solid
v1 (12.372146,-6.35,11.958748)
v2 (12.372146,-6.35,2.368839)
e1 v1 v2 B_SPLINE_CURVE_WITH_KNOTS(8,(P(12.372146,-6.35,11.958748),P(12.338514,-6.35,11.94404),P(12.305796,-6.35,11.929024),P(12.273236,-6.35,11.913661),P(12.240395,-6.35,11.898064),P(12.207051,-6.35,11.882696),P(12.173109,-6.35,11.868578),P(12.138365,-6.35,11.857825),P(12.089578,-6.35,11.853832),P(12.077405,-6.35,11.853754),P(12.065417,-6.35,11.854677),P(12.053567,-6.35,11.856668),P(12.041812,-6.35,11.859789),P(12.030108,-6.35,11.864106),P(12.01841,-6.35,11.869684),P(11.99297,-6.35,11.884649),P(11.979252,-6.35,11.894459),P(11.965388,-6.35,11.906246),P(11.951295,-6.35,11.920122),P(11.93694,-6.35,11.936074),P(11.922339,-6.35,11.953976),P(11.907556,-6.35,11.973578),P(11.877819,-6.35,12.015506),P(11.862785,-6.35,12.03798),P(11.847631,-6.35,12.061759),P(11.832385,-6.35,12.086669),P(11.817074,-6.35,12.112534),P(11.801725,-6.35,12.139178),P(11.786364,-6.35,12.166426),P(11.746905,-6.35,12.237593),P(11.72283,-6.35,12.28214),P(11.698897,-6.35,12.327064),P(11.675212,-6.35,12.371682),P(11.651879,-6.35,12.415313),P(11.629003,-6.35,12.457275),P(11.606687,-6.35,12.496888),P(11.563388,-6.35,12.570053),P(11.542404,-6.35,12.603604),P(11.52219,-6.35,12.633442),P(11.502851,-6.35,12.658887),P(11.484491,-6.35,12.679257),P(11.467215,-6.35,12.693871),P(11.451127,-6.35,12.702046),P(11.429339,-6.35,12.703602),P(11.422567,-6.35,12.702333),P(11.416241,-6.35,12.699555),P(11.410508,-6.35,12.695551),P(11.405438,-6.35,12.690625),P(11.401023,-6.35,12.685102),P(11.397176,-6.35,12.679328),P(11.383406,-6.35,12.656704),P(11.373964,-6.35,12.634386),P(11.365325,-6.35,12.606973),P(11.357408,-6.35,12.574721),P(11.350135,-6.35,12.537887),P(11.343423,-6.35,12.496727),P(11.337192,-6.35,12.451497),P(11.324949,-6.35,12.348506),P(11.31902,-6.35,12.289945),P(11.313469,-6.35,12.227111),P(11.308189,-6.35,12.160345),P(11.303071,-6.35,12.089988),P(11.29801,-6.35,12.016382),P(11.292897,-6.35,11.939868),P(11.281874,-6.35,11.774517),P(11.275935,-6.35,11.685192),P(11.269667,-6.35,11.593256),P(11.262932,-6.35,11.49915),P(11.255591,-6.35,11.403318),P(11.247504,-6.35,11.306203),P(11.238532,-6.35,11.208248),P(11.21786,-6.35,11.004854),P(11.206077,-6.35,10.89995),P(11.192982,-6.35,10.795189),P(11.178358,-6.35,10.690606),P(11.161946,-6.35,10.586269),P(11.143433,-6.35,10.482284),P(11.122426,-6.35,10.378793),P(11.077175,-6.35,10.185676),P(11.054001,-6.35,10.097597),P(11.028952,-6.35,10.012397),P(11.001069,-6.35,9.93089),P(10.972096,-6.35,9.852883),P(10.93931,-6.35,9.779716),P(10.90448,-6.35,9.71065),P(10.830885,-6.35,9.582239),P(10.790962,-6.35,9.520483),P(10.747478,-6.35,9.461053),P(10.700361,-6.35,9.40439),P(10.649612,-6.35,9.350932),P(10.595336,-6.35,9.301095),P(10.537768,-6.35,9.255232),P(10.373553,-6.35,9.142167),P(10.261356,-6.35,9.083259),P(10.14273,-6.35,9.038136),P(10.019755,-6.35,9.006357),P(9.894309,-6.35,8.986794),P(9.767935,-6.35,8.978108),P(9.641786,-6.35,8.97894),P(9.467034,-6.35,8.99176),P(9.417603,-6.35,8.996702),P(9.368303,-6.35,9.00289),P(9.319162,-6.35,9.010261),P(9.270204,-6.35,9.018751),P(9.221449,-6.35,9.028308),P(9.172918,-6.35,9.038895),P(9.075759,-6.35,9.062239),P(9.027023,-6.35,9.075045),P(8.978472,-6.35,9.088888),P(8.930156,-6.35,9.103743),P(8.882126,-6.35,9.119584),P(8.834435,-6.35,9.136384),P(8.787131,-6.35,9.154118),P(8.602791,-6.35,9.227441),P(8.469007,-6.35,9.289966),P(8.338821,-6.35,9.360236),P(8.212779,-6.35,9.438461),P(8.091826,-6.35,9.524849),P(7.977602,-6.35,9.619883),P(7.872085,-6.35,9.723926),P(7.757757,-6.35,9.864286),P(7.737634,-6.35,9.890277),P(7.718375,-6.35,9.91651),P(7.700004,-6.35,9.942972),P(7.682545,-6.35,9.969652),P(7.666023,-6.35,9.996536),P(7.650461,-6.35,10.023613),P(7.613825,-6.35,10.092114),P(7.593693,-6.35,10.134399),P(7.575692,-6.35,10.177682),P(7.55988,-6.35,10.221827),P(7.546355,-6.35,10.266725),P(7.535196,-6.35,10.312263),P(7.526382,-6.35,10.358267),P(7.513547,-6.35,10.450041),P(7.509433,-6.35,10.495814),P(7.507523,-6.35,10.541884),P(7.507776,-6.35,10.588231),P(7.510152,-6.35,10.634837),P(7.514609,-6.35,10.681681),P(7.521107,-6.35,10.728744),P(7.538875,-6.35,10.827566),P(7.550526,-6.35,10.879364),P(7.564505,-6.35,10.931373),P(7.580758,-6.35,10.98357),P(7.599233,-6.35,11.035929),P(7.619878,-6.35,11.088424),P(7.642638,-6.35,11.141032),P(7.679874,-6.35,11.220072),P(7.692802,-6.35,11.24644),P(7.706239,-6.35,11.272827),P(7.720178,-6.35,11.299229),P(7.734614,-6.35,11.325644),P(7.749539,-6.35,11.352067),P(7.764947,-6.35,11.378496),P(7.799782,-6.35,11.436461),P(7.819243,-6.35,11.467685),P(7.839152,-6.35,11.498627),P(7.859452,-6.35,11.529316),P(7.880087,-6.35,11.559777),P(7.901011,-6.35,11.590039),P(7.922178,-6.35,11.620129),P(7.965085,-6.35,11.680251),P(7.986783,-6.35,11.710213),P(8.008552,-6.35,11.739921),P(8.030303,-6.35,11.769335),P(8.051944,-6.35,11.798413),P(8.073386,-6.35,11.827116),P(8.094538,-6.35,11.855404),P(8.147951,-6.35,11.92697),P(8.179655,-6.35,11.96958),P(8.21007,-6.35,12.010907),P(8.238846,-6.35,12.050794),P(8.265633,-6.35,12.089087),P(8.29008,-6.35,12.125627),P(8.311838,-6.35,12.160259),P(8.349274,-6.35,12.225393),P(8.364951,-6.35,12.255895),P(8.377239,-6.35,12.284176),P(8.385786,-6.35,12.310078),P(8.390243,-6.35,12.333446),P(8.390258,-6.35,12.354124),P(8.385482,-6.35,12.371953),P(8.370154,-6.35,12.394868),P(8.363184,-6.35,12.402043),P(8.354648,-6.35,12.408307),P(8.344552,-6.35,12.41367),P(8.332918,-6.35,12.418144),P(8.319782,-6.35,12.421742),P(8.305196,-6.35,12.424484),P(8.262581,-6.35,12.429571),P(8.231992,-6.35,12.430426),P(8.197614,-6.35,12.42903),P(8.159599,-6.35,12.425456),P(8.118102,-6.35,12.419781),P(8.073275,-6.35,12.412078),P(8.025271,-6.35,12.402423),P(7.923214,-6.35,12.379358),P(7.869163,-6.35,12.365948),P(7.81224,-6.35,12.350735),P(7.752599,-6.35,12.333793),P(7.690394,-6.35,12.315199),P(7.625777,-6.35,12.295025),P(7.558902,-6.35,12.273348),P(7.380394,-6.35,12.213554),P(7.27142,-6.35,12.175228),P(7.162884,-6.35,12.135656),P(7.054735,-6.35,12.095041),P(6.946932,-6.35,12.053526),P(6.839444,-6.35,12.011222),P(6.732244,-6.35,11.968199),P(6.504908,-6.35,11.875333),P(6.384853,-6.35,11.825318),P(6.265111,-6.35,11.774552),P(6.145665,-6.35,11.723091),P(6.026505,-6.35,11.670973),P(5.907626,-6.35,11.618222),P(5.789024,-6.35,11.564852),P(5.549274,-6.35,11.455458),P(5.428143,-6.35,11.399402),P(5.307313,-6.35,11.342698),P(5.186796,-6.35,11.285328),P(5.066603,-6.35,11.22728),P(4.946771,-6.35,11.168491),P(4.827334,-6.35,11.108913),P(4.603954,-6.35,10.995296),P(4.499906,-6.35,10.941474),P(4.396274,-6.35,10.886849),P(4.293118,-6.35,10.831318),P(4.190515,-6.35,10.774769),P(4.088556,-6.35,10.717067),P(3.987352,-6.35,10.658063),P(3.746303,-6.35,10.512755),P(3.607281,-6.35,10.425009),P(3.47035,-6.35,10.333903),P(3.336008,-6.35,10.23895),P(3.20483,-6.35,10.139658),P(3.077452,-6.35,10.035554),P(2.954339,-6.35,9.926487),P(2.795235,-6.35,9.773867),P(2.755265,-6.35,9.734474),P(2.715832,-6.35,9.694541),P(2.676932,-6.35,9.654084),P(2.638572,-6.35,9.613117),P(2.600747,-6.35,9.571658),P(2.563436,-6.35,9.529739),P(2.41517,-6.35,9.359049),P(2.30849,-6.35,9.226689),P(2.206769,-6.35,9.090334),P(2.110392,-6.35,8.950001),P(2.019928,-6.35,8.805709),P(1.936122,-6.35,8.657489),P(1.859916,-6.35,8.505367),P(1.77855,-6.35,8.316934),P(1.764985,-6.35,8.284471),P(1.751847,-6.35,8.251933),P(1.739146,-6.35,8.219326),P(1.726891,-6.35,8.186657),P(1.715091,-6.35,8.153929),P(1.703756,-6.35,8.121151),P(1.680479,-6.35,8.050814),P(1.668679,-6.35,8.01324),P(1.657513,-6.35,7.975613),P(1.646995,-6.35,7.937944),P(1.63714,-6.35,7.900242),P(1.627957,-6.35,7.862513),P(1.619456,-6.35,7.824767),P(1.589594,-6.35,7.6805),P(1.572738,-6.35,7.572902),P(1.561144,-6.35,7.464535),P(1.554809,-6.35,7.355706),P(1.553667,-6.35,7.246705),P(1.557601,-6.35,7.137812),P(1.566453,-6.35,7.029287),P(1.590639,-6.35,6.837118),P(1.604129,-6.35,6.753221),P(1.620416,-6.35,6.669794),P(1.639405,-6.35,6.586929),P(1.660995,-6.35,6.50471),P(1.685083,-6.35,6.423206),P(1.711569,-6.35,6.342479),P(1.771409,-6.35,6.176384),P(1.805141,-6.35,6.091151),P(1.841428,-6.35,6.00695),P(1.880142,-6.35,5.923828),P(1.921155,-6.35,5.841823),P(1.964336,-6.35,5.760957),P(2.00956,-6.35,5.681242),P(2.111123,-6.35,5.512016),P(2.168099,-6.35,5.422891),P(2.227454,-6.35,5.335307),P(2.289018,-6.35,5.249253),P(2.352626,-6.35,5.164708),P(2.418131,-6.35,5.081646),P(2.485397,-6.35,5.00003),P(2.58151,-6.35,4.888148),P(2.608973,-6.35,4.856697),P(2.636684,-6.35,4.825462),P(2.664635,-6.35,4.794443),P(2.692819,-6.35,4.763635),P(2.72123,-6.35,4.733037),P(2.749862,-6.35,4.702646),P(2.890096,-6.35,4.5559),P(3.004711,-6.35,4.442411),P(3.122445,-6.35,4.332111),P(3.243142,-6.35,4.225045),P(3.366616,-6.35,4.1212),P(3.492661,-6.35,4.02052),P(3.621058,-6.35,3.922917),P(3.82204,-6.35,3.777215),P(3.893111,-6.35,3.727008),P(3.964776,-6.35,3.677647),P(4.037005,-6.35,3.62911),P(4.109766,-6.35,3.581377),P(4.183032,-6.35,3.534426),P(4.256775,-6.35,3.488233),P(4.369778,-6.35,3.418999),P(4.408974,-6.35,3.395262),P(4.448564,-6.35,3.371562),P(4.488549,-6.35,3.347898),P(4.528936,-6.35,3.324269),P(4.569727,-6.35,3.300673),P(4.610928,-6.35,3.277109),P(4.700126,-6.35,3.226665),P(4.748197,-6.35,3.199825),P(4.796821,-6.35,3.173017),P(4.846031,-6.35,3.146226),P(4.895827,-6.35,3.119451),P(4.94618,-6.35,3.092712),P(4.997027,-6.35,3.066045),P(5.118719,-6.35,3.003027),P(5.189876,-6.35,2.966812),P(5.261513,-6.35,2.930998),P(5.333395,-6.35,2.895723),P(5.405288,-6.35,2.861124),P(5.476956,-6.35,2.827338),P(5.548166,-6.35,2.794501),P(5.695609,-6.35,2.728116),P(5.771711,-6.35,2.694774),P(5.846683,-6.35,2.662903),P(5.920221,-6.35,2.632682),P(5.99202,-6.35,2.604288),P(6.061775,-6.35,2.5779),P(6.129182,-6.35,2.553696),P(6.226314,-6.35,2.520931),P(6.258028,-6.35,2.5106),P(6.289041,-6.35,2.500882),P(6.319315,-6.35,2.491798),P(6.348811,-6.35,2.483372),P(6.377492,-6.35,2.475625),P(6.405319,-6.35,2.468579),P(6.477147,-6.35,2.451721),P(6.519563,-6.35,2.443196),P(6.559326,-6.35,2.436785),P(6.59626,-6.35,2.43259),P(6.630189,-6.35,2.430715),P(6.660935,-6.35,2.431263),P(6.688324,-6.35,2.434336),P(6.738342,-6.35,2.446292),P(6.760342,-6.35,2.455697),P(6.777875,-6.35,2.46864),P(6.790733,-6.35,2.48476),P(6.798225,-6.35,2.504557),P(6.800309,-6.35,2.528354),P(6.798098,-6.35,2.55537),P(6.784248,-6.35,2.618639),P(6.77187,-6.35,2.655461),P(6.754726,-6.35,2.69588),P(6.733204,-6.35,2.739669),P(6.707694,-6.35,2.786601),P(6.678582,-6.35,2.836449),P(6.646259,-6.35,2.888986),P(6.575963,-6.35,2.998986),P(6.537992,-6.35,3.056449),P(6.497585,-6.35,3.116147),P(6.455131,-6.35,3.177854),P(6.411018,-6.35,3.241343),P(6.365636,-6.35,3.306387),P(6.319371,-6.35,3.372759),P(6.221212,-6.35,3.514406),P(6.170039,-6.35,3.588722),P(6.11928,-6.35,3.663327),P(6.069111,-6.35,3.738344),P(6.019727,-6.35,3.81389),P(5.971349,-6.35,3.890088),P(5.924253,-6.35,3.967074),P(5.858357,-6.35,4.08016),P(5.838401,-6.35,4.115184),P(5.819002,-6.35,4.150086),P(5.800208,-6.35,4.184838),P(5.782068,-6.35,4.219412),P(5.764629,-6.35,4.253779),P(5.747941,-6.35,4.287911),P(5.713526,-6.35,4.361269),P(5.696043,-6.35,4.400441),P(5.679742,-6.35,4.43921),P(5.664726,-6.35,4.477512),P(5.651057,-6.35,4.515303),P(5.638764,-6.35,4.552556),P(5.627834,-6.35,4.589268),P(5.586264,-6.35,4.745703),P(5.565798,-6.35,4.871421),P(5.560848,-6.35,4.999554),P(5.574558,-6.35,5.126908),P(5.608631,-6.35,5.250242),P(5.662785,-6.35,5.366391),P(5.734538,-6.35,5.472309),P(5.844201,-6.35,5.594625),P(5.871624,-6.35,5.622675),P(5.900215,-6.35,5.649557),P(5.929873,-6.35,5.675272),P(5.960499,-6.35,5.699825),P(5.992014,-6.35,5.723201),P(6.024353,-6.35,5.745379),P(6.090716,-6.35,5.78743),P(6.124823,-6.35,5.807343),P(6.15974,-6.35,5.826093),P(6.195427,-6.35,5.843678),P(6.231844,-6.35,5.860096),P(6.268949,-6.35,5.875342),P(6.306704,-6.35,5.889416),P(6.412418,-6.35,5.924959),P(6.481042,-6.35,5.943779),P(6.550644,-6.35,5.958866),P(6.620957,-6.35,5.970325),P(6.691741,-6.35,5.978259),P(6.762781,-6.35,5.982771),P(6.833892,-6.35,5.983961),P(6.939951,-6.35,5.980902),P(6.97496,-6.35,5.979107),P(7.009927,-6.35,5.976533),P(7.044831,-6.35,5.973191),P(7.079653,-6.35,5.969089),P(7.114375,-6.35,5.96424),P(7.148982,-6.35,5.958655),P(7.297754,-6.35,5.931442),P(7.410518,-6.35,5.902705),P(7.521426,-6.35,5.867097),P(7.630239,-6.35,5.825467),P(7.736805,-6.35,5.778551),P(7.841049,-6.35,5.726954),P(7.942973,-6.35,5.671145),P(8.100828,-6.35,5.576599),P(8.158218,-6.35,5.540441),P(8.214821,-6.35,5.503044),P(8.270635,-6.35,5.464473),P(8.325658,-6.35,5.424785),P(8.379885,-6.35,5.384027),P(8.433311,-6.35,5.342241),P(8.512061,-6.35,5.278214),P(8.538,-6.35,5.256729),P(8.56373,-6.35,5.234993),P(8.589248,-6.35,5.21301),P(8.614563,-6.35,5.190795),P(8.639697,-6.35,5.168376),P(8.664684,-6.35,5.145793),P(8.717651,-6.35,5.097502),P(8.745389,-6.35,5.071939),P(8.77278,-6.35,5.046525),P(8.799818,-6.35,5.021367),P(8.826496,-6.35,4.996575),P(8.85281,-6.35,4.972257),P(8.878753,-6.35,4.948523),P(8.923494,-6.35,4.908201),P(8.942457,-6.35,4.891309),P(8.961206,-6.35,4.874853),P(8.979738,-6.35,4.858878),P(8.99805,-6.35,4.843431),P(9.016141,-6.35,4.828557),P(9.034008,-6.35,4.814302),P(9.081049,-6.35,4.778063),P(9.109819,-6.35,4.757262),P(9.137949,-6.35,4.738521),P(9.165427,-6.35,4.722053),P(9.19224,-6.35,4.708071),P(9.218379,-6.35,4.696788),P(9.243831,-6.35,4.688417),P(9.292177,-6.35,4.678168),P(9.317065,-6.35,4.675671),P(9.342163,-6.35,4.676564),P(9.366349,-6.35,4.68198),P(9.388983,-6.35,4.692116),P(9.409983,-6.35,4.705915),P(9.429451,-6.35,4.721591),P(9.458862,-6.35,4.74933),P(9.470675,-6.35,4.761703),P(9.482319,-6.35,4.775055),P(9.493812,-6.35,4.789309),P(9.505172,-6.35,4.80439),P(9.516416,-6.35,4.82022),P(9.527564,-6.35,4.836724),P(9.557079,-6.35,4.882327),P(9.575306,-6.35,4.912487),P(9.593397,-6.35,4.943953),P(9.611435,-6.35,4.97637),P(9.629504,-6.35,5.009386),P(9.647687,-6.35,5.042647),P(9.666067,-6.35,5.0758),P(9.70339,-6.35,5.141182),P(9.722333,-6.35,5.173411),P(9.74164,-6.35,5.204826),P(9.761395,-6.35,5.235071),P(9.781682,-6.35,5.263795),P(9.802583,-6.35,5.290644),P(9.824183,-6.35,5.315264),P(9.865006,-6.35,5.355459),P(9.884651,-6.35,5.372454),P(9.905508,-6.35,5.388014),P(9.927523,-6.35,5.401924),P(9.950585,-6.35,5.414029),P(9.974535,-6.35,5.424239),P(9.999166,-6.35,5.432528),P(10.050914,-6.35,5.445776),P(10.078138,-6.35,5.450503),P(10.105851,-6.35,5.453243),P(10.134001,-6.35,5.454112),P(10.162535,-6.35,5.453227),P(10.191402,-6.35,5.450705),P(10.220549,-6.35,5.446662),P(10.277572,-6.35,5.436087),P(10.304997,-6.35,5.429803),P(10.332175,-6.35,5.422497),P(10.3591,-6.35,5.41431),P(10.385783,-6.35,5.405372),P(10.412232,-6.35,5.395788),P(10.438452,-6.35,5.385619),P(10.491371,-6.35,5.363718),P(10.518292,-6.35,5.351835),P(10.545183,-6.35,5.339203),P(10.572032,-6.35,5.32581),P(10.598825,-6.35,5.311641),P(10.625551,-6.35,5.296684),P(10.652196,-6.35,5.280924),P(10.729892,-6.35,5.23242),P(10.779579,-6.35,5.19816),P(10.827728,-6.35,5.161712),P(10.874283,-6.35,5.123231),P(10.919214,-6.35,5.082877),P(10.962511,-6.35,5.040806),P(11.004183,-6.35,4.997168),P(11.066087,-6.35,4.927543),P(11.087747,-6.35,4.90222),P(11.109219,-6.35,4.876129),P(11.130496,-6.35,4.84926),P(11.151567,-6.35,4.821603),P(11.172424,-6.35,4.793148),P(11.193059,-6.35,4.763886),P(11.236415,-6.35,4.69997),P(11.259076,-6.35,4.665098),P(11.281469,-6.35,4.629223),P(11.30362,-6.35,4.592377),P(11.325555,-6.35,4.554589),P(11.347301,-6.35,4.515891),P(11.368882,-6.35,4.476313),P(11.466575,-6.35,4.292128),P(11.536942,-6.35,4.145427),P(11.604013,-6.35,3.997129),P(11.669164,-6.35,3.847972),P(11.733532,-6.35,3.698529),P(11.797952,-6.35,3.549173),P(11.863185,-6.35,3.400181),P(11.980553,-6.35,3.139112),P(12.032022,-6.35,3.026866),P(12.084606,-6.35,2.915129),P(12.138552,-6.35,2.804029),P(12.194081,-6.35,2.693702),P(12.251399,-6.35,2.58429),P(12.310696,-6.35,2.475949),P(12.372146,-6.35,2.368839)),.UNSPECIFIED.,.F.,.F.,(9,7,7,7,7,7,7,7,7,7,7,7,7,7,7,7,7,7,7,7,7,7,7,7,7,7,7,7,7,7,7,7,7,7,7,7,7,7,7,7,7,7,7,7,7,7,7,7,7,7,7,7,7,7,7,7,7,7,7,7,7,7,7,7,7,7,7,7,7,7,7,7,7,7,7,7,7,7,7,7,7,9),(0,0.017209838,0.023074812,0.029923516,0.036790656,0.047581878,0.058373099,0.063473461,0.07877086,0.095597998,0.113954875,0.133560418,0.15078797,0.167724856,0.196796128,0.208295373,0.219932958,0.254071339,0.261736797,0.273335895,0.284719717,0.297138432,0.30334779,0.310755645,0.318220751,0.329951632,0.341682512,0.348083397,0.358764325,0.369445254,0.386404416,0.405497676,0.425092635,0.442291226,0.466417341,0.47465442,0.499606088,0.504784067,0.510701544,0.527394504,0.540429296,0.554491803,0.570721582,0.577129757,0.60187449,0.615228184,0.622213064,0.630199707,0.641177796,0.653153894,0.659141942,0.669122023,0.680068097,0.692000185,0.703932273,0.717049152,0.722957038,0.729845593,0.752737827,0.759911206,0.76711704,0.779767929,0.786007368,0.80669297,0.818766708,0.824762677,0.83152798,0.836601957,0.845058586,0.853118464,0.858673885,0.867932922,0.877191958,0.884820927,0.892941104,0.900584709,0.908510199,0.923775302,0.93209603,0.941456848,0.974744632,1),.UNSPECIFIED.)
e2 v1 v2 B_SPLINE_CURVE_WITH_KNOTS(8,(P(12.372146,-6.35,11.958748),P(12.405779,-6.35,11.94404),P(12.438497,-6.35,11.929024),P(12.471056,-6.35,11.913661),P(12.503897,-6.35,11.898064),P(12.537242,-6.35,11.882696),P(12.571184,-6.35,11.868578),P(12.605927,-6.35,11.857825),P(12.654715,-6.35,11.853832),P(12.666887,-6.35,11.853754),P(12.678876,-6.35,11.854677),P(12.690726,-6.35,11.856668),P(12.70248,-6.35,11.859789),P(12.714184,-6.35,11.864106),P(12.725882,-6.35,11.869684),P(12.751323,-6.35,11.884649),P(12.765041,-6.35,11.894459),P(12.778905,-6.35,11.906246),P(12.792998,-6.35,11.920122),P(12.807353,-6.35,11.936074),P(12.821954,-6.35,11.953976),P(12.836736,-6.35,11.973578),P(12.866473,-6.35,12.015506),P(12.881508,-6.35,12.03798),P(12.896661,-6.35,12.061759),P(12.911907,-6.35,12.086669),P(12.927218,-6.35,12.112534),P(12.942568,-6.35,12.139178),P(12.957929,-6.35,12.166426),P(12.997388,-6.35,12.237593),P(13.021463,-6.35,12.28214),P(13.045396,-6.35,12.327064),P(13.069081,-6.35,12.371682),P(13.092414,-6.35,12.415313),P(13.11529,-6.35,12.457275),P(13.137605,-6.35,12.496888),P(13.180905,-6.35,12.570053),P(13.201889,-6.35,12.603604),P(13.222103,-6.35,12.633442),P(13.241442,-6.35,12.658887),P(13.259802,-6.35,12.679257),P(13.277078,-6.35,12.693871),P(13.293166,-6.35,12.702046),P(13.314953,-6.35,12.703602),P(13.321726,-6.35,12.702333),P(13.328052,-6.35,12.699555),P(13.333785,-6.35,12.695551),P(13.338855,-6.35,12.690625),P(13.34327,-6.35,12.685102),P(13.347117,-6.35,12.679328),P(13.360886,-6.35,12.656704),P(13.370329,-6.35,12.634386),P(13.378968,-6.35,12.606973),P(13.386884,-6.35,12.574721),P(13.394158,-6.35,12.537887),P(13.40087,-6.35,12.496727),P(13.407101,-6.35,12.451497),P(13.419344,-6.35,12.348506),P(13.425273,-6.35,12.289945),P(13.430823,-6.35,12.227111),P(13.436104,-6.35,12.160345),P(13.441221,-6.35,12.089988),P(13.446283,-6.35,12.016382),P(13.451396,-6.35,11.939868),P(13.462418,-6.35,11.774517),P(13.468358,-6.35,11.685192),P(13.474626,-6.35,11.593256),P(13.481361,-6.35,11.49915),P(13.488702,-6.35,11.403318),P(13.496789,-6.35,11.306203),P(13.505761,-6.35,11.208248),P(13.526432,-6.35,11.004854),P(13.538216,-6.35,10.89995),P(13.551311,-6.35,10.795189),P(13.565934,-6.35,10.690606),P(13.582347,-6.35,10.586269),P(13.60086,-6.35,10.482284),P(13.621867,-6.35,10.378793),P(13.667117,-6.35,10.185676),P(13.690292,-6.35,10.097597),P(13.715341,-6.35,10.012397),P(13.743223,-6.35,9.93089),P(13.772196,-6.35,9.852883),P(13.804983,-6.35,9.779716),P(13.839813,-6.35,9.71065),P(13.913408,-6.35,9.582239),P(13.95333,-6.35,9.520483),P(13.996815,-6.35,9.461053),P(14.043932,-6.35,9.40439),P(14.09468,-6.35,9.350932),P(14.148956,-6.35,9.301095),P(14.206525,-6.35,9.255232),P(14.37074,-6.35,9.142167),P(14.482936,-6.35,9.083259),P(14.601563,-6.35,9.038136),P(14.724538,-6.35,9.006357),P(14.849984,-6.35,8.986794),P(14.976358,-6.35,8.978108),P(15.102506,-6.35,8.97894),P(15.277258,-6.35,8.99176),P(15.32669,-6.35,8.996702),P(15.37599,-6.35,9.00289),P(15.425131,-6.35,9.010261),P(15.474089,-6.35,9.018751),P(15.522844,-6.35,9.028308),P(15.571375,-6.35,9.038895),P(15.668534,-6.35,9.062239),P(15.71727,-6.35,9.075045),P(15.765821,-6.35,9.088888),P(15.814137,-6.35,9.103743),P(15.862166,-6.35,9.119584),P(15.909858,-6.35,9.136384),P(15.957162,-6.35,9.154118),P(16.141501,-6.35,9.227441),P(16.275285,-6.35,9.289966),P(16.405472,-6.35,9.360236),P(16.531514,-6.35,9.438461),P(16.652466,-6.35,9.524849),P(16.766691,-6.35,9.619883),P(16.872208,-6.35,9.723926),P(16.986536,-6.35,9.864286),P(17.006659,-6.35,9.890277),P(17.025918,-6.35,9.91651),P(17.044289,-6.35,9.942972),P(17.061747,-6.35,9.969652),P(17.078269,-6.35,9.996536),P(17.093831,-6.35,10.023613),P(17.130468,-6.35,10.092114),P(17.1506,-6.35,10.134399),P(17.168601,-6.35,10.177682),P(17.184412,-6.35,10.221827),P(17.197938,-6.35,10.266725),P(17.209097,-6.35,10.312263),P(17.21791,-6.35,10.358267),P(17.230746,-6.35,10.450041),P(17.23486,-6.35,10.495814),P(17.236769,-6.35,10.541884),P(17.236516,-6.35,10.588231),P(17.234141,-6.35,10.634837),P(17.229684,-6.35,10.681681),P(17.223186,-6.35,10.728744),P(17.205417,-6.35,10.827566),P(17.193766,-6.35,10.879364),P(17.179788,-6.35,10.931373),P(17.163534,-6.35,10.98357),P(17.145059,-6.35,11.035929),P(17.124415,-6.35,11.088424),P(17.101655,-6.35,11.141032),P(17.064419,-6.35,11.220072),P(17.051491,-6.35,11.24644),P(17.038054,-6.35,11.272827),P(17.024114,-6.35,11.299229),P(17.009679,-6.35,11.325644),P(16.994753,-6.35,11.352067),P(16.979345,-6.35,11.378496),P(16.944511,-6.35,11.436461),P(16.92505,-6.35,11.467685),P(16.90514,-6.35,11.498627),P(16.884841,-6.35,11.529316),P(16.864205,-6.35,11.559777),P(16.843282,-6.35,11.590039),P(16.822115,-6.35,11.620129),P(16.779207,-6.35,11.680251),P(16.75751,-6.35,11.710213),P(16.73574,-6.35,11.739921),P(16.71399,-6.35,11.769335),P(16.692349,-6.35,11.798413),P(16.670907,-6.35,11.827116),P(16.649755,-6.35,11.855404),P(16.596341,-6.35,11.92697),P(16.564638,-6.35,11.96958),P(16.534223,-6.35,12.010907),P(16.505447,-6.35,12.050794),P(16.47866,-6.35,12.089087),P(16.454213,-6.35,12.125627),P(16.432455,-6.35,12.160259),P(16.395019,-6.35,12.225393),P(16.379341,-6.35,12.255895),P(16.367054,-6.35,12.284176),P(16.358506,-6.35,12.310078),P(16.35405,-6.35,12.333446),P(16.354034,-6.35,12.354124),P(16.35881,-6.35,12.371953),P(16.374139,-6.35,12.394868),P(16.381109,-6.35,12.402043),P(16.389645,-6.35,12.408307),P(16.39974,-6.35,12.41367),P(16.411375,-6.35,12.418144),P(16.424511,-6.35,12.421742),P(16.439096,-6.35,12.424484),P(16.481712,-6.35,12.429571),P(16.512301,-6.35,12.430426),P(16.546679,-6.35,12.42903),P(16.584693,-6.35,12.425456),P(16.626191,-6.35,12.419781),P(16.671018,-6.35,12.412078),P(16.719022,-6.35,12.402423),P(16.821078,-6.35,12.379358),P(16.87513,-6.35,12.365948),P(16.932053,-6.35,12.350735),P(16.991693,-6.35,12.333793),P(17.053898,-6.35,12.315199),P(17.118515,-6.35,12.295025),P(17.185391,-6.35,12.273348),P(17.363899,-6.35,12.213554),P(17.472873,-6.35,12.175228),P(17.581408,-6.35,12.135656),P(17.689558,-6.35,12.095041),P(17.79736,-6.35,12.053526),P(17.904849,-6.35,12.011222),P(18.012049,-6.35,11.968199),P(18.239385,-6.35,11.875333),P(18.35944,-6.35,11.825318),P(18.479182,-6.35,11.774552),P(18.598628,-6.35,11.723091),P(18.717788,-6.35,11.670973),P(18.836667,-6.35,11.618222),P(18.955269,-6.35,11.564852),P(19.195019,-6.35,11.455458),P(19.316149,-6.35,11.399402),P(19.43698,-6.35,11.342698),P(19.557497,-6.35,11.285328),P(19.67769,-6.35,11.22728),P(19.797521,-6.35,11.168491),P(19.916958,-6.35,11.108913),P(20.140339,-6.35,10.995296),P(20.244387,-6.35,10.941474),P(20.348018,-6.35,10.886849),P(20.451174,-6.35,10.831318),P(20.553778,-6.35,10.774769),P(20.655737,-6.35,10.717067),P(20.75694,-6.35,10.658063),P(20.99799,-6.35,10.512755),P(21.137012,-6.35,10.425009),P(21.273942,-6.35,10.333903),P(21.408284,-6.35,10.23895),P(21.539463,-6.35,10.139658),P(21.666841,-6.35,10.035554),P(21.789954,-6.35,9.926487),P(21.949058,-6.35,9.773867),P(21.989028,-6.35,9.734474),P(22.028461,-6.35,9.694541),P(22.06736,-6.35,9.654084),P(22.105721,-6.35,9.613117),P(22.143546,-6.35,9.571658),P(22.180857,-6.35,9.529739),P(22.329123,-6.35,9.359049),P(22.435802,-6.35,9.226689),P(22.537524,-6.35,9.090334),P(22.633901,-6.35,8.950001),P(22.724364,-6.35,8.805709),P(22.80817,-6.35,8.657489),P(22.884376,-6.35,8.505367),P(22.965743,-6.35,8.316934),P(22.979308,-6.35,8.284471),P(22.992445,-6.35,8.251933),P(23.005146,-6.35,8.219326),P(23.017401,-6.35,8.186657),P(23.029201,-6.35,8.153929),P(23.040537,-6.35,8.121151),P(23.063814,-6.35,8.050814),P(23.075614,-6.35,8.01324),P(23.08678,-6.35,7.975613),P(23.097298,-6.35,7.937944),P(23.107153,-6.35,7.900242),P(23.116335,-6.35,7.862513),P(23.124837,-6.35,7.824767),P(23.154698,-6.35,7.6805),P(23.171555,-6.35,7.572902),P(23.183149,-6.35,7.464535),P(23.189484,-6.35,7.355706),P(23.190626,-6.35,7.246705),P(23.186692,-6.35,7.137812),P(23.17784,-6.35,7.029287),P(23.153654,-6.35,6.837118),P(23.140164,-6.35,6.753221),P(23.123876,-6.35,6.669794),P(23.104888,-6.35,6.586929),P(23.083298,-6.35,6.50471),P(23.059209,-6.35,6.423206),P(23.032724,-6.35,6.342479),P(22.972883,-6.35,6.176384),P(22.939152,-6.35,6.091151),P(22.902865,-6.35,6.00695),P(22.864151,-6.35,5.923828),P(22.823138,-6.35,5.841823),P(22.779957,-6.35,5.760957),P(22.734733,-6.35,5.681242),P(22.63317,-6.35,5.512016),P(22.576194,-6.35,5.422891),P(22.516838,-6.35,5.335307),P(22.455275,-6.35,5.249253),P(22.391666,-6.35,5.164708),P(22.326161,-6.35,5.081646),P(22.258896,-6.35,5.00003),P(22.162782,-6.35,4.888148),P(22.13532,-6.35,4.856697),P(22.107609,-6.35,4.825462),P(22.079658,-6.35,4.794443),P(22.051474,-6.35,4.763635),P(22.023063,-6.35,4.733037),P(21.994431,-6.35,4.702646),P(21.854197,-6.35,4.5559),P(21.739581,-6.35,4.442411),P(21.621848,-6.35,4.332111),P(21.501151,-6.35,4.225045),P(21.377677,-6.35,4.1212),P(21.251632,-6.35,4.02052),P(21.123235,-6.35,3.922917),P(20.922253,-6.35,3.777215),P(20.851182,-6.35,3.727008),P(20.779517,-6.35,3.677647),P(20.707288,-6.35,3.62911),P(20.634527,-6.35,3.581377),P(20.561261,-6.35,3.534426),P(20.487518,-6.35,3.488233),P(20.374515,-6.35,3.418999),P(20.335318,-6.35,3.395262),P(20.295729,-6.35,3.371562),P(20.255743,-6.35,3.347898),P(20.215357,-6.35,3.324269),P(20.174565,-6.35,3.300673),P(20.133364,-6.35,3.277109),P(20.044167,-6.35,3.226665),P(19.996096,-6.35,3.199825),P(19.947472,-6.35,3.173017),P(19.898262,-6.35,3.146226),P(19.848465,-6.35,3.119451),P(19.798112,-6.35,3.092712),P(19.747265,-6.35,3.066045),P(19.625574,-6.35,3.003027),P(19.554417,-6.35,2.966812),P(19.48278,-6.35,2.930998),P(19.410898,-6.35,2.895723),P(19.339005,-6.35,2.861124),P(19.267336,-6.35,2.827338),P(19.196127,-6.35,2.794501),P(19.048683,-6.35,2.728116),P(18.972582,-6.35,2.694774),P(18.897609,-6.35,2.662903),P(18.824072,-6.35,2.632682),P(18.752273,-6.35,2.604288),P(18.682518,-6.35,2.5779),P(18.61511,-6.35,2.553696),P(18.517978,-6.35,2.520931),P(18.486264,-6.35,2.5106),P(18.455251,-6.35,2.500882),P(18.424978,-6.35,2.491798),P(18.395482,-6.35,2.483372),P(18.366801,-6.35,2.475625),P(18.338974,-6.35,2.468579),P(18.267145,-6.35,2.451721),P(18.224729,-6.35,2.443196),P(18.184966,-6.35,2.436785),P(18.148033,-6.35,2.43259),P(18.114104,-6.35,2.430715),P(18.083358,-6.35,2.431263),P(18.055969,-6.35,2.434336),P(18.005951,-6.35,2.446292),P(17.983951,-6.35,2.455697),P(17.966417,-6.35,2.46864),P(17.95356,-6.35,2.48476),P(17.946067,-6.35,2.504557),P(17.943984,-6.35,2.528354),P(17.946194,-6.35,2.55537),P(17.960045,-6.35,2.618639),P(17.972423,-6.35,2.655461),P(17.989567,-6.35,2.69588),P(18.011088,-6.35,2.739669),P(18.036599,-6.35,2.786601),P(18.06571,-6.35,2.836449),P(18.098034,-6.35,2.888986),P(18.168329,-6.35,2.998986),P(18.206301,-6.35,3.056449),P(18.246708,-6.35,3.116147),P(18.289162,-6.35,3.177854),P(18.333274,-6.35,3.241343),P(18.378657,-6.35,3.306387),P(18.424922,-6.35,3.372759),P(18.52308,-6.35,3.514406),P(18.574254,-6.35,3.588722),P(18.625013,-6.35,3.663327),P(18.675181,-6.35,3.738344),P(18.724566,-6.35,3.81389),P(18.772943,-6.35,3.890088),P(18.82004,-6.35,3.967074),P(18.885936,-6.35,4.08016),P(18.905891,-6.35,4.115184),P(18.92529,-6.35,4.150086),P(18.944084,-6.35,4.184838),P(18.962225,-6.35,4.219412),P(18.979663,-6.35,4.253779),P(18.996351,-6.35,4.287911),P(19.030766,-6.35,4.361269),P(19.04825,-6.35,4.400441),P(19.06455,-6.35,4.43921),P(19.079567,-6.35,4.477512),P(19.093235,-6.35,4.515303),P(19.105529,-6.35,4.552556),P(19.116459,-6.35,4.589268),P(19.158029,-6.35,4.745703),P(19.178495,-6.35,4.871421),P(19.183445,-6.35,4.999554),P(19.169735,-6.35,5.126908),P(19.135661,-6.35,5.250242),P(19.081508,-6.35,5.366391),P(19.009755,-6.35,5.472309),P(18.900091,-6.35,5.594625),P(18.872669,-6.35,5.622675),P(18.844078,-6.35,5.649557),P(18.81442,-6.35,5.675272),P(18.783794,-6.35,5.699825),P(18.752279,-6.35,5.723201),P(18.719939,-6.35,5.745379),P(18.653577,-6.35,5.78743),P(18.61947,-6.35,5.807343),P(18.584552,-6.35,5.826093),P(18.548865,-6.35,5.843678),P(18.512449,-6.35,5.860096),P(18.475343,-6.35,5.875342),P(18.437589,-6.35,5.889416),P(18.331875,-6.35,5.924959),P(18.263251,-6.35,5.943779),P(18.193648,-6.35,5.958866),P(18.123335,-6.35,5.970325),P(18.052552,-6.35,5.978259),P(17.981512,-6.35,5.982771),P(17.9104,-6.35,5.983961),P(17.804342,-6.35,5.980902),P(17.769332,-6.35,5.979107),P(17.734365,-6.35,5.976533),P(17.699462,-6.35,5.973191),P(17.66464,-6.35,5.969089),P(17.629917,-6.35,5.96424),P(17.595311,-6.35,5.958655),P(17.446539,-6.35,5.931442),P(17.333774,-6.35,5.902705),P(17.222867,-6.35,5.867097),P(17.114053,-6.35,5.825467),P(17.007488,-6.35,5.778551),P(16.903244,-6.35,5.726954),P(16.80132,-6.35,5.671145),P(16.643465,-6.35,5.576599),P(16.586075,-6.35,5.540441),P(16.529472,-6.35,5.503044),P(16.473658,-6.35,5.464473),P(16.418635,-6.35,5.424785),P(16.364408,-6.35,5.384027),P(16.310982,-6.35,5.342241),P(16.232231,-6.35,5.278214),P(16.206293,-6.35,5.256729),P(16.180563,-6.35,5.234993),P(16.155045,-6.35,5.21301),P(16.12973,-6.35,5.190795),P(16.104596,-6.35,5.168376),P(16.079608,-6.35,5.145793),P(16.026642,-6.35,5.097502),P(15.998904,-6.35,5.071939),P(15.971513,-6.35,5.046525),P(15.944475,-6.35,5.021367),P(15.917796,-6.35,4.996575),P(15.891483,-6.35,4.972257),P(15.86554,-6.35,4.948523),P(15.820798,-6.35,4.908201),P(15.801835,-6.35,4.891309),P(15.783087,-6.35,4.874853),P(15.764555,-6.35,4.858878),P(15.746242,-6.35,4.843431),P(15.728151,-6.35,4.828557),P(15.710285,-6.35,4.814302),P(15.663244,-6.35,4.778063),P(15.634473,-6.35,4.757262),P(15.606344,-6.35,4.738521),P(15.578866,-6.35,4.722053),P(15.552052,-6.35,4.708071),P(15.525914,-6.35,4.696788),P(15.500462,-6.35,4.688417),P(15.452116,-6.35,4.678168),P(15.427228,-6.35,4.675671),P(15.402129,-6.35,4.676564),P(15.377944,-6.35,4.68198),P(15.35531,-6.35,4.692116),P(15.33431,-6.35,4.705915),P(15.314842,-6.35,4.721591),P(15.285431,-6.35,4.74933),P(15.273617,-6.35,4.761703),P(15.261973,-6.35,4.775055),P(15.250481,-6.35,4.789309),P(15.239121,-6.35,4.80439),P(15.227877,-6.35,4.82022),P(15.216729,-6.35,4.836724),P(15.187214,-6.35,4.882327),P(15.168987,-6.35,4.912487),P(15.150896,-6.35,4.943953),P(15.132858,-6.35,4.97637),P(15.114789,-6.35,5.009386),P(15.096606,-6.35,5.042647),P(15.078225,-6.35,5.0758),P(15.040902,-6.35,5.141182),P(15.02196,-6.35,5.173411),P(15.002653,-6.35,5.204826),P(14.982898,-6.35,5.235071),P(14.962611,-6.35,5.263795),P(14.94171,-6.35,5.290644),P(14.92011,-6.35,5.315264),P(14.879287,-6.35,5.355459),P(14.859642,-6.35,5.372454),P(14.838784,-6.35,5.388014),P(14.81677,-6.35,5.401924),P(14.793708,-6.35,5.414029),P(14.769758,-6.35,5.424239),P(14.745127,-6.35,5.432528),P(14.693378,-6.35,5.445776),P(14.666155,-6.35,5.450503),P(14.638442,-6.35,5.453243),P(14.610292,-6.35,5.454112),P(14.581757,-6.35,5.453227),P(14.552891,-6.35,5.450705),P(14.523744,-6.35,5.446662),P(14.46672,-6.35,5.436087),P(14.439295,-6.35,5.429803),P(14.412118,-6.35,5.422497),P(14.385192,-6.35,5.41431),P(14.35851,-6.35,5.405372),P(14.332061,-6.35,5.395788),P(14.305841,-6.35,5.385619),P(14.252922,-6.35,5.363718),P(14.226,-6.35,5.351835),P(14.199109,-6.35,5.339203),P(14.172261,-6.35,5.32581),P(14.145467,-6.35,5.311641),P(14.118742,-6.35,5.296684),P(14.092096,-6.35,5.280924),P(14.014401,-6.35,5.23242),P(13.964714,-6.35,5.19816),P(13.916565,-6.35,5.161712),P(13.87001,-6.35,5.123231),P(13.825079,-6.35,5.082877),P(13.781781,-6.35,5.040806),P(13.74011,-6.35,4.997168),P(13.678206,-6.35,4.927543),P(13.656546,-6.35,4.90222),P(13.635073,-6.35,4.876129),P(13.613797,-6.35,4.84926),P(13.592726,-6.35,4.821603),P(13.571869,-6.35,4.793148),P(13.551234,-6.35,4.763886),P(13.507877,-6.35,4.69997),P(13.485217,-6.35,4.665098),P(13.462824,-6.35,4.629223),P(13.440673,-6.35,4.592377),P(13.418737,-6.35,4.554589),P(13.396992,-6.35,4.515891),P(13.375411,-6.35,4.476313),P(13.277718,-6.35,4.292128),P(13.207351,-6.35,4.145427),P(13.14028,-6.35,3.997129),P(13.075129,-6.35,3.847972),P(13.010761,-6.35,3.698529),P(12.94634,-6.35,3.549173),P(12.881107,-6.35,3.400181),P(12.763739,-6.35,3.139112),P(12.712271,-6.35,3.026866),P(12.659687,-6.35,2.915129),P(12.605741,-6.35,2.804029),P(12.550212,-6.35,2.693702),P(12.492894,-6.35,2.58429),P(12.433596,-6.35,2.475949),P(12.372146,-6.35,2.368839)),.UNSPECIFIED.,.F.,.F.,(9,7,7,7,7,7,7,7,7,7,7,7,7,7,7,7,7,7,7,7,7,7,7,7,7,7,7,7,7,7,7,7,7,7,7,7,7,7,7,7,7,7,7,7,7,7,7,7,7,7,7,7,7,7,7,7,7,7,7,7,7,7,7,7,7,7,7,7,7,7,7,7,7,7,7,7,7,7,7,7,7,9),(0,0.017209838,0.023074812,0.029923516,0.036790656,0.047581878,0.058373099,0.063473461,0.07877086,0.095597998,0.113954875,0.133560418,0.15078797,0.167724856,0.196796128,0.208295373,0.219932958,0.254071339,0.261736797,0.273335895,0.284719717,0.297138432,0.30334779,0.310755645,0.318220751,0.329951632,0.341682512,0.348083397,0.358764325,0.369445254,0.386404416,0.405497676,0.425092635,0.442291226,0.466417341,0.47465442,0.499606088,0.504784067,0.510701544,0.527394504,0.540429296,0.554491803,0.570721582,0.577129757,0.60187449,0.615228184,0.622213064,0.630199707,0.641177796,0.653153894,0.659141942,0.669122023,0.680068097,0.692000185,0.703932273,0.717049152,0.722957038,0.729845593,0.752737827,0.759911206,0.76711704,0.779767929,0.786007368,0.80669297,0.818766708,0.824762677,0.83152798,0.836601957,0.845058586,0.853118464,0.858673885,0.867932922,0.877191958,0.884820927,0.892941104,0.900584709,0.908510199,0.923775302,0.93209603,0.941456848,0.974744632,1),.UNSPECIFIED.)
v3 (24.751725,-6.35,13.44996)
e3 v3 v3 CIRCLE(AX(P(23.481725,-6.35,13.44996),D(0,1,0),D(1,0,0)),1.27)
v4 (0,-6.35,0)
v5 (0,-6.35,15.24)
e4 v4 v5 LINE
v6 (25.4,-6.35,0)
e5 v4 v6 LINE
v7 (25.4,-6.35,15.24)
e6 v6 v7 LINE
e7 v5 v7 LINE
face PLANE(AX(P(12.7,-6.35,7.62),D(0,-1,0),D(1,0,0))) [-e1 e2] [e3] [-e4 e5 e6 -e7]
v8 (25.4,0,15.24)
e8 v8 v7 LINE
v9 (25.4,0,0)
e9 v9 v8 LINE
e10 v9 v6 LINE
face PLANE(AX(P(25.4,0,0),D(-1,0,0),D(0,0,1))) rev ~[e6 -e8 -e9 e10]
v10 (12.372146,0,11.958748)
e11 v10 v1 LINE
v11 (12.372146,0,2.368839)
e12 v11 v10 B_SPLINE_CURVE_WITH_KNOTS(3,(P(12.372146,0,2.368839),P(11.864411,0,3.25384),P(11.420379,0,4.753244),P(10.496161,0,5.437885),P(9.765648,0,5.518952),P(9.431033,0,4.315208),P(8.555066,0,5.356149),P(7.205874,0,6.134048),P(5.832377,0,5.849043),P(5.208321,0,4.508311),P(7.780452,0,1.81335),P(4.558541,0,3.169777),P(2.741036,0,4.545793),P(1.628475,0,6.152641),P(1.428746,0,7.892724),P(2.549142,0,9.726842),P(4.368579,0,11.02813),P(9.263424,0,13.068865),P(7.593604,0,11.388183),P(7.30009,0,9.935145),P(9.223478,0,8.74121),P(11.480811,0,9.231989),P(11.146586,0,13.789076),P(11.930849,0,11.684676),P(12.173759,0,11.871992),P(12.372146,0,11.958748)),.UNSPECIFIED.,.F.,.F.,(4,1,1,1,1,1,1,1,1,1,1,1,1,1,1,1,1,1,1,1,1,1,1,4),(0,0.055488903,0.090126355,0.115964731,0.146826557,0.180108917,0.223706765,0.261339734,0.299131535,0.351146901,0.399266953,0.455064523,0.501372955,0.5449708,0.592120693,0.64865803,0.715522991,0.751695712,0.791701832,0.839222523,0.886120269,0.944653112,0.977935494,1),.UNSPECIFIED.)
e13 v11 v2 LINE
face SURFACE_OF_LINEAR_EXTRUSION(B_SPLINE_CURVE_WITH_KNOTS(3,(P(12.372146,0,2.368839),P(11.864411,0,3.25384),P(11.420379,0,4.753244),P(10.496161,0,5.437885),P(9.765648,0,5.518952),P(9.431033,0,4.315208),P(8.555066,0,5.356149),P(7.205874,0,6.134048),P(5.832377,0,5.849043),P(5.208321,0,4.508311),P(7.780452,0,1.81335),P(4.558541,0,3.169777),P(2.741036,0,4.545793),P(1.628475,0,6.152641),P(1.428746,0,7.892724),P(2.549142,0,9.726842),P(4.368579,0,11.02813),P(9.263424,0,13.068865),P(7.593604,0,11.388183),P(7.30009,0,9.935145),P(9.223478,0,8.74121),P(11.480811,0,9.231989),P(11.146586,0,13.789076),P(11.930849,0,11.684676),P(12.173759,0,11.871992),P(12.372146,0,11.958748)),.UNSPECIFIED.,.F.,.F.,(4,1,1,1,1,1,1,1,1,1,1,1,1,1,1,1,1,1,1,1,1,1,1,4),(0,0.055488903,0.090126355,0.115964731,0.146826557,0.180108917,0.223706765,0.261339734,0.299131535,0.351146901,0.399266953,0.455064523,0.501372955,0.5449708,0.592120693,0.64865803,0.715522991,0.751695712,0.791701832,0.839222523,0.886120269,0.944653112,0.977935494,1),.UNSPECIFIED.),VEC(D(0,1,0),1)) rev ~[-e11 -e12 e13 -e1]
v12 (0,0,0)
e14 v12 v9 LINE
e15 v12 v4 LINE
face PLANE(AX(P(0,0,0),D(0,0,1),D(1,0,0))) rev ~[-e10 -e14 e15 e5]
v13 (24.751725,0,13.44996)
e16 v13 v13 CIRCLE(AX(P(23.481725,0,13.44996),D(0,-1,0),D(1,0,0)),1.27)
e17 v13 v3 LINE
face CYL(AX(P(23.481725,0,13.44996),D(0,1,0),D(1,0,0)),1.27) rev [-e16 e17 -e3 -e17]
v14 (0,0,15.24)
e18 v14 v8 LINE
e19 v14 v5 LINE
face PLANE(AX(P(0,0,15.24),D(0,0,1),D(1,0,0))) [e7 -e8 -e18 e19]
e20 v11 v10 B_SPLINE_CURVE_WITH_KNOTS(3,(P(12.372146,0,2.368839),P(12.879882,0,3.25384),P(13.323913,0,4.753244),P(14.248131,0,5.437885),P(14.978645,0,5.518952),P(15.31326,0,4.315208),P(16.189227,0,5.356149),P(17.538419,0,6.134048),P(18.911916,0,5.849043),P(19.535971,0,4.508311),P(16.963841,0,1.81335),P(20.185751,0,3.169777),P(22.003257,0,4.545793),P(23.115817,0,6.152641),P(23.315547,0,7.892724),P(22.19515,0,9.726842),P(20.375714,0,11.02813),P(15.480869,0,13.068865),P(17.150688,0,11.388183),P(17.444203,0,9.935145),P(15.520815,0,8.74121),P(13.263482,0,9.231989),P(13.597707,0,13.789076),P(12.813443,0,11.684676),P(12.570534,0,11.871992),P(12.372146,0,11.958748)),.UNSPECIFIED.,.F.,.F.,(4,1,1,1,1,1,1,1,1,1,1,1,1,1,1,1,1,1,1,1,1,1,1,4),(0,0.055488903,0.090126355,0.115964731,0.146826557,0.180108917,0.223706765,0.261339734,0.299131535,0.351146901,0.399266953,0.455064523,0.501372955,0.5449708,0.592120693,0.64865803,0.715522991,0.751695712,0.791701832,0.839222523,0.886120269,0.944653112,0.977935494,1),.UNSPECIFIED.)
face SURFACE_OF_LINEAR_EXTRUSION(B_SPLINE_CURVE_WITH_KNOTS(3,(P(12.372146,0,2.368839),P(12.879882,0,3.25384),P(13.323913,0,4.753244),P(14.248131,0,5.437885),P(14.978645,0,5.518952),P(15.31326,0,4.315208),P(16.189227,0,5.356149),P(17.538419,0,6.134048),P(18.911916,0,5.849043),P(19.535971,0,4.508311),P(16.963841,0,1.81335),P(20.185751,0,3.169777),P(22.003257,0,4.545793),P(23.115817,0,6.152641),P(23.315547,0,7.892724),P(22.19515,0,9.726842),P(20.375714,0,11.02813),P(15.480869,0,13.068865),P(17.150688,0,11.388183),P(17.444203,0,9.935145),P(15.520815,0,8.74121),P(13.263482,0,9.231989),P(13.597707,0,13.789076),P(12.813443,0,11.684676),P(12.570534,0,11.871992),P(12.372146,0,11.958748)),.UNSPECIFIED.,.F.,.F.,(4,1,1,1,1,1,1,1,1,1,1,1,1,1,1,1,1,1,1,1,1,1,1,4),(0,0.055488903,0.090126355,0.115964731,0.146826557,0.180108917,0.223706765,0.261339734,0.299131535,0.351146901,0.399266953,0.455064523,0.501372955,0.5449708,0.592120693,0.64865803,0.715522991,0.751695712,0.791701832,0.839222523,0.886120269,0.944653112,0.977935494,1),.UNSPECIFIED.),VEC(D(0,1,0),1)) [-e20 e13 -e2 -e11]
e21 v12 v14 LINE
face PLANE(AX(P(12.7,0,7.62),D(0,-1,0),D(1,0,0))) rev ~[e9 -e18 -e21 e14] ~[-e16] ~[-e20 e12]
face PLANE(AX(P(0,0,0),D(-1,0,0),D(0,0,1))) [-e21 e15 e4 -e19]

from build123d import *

# Parameters (mm, degrees)
F0_W     = 25.4
F0_H     = 15.24
F1_DEPTH = 6.35
F3_DEPTH = 25.4
F4_R     = 1.27
F5_DEPTH = 25.4


with BuildPart() as f1:
    # F0 (on Front) → F1 (new body)
    with BuildSketch(Plane.XZ):
        with Locations((12.7, 7.62)):
            Rectangle(F0_W, F0_H)
    extrude(amount=F1_DEPTH)

    # F2 (on Front) → F3 (cut)
    with BuildSketch(Plane.XZ):
        with BuildLine():
            Line((12.3721463606, 11.9587476503), (12.3721463606, 2.3688389957))
            add(Edge.make_bspline(
                [(12.3721463606, 2.3688389957), (12.8798818666, 3.253839677), (13.3239132431, 4.7532439376), (14.2481314523, 5.4378849052), (14.9786448919, 5.5189521355), (15.3132601715, 4.3152076509), (16.1892271784, 5.3561491541), (17.5384189563, 6.1340482576), (18.9119161102, 5.8490427604), (19.5359712542, 4.5083110403), (16.9638406912, 1.8133498989), (20.1857514323, 3.1697767846), (22.0032565254, 4.5457932459), (23.1158173657, 6.1526413773), (23.3155466844, 7.8927235516), (22.1951503384, 9.7268416533), (20.3757139118, 11.0281295239), (15.4808686845, 13.0688651615), (17.1506882734, 11.3881834955), (17.4442031295, 9.9351451634), (15.5208146658, 8.7412099043), (13.263481709, 9.2319894702), (13.5977067519, 13.7890758966), (12.8134433602, 11.6846764657), (12.5705341227, 11.8719918693), (12.3721463606, 11.9587476503)],
                knots=[0, 0, 0, 0, 0.0554889029, 0.0901263552, 0.1159647308, 0.1468265572, 0.1801089168, 0.2237067653, 0.2613397343, 0.2991315347, 0.3511469015, 0.3992669531, 0.4550645231, 0.5013729548, 0.5449707995, 0.592120693, 0.6486580299, 0.7155229911, 0.7516957124, 0.791701832, 0.8392225227, 0.886120269, 0.944653112, 0.9779354937, 1, 1, 1, 1], degree=3))
        make_face()
        with BuildLine():
            add(Edge.make_bspline(
                [(12.3721463606, 2.3688389957), (11.8644108545, 3.253839677), (11.4203794781, 4.7532439376), (10.4961612689, 5.4378849052), (9.7656478293, 5.5189521355), (9.4310325497, 4.3152076509), (8.5550655428, 5.3561491541), (7.2058737648, 6.1340482576), (5.832376611, 5.8490427604), (5.208321467, 4.5083110403), (7.78045203, 1.8133498989), (4.5585412889, 3.1697767846), (2.7410361958, 4.5457932459), (1.6284753554, 6.1526413773), (1.4287460368, 7.8927235516), (2.5491423827, 9.7268416533), (4.3685788093, 11.0281295239), (9.2634240366, 13.0688651615), (7.5936044477, 11.3881834955), (7.3000895916, 9.9351451634), (9.2234780554, 8.7412099043), (11.4808110121, 9.2319894702), (11.1465859692, 13.7890758966), (11.9308493609, 11.6846764657), (12.1737585985, 11.8719918693), (12.3721463606, 11.9587476503)],
                knots=[0, 0, 0, 0, 0.0554889029, 0.0901263552, 0.1159647308, 0.1468265572, 0.1801089168, 0.2237067653, 0.2613397343, 0.2991315347, 0.3511469015, 0.3992669531, 0.4550645231, 0.5013729548, 0.5449707995, 0.592120693, 0.6486580299, 0.7155229911, 0.7516957124, 0.791701832, 0.8392225227, 0.886120269, 0.944653112, 0.9779354937, 1, 1, 1, 1], degree=3))
            Line((12.3721463606, 2.3688389957), (12.3721463606, 11.9587476503))
        make_face()
    extrude(amount=F3_DEPTH, mode=Mode.SUBTRACT)

    # F4 (on Front) → F5 (cut)
    with BuildSketch(Plane.XZ):
        with Locations((23.4817247838, 13.4499603882)):
            Circle(F4_R)
    extrude(amount=F5_DEPTH, mode=Mode.SUBTRACT)


solid = f1.part
